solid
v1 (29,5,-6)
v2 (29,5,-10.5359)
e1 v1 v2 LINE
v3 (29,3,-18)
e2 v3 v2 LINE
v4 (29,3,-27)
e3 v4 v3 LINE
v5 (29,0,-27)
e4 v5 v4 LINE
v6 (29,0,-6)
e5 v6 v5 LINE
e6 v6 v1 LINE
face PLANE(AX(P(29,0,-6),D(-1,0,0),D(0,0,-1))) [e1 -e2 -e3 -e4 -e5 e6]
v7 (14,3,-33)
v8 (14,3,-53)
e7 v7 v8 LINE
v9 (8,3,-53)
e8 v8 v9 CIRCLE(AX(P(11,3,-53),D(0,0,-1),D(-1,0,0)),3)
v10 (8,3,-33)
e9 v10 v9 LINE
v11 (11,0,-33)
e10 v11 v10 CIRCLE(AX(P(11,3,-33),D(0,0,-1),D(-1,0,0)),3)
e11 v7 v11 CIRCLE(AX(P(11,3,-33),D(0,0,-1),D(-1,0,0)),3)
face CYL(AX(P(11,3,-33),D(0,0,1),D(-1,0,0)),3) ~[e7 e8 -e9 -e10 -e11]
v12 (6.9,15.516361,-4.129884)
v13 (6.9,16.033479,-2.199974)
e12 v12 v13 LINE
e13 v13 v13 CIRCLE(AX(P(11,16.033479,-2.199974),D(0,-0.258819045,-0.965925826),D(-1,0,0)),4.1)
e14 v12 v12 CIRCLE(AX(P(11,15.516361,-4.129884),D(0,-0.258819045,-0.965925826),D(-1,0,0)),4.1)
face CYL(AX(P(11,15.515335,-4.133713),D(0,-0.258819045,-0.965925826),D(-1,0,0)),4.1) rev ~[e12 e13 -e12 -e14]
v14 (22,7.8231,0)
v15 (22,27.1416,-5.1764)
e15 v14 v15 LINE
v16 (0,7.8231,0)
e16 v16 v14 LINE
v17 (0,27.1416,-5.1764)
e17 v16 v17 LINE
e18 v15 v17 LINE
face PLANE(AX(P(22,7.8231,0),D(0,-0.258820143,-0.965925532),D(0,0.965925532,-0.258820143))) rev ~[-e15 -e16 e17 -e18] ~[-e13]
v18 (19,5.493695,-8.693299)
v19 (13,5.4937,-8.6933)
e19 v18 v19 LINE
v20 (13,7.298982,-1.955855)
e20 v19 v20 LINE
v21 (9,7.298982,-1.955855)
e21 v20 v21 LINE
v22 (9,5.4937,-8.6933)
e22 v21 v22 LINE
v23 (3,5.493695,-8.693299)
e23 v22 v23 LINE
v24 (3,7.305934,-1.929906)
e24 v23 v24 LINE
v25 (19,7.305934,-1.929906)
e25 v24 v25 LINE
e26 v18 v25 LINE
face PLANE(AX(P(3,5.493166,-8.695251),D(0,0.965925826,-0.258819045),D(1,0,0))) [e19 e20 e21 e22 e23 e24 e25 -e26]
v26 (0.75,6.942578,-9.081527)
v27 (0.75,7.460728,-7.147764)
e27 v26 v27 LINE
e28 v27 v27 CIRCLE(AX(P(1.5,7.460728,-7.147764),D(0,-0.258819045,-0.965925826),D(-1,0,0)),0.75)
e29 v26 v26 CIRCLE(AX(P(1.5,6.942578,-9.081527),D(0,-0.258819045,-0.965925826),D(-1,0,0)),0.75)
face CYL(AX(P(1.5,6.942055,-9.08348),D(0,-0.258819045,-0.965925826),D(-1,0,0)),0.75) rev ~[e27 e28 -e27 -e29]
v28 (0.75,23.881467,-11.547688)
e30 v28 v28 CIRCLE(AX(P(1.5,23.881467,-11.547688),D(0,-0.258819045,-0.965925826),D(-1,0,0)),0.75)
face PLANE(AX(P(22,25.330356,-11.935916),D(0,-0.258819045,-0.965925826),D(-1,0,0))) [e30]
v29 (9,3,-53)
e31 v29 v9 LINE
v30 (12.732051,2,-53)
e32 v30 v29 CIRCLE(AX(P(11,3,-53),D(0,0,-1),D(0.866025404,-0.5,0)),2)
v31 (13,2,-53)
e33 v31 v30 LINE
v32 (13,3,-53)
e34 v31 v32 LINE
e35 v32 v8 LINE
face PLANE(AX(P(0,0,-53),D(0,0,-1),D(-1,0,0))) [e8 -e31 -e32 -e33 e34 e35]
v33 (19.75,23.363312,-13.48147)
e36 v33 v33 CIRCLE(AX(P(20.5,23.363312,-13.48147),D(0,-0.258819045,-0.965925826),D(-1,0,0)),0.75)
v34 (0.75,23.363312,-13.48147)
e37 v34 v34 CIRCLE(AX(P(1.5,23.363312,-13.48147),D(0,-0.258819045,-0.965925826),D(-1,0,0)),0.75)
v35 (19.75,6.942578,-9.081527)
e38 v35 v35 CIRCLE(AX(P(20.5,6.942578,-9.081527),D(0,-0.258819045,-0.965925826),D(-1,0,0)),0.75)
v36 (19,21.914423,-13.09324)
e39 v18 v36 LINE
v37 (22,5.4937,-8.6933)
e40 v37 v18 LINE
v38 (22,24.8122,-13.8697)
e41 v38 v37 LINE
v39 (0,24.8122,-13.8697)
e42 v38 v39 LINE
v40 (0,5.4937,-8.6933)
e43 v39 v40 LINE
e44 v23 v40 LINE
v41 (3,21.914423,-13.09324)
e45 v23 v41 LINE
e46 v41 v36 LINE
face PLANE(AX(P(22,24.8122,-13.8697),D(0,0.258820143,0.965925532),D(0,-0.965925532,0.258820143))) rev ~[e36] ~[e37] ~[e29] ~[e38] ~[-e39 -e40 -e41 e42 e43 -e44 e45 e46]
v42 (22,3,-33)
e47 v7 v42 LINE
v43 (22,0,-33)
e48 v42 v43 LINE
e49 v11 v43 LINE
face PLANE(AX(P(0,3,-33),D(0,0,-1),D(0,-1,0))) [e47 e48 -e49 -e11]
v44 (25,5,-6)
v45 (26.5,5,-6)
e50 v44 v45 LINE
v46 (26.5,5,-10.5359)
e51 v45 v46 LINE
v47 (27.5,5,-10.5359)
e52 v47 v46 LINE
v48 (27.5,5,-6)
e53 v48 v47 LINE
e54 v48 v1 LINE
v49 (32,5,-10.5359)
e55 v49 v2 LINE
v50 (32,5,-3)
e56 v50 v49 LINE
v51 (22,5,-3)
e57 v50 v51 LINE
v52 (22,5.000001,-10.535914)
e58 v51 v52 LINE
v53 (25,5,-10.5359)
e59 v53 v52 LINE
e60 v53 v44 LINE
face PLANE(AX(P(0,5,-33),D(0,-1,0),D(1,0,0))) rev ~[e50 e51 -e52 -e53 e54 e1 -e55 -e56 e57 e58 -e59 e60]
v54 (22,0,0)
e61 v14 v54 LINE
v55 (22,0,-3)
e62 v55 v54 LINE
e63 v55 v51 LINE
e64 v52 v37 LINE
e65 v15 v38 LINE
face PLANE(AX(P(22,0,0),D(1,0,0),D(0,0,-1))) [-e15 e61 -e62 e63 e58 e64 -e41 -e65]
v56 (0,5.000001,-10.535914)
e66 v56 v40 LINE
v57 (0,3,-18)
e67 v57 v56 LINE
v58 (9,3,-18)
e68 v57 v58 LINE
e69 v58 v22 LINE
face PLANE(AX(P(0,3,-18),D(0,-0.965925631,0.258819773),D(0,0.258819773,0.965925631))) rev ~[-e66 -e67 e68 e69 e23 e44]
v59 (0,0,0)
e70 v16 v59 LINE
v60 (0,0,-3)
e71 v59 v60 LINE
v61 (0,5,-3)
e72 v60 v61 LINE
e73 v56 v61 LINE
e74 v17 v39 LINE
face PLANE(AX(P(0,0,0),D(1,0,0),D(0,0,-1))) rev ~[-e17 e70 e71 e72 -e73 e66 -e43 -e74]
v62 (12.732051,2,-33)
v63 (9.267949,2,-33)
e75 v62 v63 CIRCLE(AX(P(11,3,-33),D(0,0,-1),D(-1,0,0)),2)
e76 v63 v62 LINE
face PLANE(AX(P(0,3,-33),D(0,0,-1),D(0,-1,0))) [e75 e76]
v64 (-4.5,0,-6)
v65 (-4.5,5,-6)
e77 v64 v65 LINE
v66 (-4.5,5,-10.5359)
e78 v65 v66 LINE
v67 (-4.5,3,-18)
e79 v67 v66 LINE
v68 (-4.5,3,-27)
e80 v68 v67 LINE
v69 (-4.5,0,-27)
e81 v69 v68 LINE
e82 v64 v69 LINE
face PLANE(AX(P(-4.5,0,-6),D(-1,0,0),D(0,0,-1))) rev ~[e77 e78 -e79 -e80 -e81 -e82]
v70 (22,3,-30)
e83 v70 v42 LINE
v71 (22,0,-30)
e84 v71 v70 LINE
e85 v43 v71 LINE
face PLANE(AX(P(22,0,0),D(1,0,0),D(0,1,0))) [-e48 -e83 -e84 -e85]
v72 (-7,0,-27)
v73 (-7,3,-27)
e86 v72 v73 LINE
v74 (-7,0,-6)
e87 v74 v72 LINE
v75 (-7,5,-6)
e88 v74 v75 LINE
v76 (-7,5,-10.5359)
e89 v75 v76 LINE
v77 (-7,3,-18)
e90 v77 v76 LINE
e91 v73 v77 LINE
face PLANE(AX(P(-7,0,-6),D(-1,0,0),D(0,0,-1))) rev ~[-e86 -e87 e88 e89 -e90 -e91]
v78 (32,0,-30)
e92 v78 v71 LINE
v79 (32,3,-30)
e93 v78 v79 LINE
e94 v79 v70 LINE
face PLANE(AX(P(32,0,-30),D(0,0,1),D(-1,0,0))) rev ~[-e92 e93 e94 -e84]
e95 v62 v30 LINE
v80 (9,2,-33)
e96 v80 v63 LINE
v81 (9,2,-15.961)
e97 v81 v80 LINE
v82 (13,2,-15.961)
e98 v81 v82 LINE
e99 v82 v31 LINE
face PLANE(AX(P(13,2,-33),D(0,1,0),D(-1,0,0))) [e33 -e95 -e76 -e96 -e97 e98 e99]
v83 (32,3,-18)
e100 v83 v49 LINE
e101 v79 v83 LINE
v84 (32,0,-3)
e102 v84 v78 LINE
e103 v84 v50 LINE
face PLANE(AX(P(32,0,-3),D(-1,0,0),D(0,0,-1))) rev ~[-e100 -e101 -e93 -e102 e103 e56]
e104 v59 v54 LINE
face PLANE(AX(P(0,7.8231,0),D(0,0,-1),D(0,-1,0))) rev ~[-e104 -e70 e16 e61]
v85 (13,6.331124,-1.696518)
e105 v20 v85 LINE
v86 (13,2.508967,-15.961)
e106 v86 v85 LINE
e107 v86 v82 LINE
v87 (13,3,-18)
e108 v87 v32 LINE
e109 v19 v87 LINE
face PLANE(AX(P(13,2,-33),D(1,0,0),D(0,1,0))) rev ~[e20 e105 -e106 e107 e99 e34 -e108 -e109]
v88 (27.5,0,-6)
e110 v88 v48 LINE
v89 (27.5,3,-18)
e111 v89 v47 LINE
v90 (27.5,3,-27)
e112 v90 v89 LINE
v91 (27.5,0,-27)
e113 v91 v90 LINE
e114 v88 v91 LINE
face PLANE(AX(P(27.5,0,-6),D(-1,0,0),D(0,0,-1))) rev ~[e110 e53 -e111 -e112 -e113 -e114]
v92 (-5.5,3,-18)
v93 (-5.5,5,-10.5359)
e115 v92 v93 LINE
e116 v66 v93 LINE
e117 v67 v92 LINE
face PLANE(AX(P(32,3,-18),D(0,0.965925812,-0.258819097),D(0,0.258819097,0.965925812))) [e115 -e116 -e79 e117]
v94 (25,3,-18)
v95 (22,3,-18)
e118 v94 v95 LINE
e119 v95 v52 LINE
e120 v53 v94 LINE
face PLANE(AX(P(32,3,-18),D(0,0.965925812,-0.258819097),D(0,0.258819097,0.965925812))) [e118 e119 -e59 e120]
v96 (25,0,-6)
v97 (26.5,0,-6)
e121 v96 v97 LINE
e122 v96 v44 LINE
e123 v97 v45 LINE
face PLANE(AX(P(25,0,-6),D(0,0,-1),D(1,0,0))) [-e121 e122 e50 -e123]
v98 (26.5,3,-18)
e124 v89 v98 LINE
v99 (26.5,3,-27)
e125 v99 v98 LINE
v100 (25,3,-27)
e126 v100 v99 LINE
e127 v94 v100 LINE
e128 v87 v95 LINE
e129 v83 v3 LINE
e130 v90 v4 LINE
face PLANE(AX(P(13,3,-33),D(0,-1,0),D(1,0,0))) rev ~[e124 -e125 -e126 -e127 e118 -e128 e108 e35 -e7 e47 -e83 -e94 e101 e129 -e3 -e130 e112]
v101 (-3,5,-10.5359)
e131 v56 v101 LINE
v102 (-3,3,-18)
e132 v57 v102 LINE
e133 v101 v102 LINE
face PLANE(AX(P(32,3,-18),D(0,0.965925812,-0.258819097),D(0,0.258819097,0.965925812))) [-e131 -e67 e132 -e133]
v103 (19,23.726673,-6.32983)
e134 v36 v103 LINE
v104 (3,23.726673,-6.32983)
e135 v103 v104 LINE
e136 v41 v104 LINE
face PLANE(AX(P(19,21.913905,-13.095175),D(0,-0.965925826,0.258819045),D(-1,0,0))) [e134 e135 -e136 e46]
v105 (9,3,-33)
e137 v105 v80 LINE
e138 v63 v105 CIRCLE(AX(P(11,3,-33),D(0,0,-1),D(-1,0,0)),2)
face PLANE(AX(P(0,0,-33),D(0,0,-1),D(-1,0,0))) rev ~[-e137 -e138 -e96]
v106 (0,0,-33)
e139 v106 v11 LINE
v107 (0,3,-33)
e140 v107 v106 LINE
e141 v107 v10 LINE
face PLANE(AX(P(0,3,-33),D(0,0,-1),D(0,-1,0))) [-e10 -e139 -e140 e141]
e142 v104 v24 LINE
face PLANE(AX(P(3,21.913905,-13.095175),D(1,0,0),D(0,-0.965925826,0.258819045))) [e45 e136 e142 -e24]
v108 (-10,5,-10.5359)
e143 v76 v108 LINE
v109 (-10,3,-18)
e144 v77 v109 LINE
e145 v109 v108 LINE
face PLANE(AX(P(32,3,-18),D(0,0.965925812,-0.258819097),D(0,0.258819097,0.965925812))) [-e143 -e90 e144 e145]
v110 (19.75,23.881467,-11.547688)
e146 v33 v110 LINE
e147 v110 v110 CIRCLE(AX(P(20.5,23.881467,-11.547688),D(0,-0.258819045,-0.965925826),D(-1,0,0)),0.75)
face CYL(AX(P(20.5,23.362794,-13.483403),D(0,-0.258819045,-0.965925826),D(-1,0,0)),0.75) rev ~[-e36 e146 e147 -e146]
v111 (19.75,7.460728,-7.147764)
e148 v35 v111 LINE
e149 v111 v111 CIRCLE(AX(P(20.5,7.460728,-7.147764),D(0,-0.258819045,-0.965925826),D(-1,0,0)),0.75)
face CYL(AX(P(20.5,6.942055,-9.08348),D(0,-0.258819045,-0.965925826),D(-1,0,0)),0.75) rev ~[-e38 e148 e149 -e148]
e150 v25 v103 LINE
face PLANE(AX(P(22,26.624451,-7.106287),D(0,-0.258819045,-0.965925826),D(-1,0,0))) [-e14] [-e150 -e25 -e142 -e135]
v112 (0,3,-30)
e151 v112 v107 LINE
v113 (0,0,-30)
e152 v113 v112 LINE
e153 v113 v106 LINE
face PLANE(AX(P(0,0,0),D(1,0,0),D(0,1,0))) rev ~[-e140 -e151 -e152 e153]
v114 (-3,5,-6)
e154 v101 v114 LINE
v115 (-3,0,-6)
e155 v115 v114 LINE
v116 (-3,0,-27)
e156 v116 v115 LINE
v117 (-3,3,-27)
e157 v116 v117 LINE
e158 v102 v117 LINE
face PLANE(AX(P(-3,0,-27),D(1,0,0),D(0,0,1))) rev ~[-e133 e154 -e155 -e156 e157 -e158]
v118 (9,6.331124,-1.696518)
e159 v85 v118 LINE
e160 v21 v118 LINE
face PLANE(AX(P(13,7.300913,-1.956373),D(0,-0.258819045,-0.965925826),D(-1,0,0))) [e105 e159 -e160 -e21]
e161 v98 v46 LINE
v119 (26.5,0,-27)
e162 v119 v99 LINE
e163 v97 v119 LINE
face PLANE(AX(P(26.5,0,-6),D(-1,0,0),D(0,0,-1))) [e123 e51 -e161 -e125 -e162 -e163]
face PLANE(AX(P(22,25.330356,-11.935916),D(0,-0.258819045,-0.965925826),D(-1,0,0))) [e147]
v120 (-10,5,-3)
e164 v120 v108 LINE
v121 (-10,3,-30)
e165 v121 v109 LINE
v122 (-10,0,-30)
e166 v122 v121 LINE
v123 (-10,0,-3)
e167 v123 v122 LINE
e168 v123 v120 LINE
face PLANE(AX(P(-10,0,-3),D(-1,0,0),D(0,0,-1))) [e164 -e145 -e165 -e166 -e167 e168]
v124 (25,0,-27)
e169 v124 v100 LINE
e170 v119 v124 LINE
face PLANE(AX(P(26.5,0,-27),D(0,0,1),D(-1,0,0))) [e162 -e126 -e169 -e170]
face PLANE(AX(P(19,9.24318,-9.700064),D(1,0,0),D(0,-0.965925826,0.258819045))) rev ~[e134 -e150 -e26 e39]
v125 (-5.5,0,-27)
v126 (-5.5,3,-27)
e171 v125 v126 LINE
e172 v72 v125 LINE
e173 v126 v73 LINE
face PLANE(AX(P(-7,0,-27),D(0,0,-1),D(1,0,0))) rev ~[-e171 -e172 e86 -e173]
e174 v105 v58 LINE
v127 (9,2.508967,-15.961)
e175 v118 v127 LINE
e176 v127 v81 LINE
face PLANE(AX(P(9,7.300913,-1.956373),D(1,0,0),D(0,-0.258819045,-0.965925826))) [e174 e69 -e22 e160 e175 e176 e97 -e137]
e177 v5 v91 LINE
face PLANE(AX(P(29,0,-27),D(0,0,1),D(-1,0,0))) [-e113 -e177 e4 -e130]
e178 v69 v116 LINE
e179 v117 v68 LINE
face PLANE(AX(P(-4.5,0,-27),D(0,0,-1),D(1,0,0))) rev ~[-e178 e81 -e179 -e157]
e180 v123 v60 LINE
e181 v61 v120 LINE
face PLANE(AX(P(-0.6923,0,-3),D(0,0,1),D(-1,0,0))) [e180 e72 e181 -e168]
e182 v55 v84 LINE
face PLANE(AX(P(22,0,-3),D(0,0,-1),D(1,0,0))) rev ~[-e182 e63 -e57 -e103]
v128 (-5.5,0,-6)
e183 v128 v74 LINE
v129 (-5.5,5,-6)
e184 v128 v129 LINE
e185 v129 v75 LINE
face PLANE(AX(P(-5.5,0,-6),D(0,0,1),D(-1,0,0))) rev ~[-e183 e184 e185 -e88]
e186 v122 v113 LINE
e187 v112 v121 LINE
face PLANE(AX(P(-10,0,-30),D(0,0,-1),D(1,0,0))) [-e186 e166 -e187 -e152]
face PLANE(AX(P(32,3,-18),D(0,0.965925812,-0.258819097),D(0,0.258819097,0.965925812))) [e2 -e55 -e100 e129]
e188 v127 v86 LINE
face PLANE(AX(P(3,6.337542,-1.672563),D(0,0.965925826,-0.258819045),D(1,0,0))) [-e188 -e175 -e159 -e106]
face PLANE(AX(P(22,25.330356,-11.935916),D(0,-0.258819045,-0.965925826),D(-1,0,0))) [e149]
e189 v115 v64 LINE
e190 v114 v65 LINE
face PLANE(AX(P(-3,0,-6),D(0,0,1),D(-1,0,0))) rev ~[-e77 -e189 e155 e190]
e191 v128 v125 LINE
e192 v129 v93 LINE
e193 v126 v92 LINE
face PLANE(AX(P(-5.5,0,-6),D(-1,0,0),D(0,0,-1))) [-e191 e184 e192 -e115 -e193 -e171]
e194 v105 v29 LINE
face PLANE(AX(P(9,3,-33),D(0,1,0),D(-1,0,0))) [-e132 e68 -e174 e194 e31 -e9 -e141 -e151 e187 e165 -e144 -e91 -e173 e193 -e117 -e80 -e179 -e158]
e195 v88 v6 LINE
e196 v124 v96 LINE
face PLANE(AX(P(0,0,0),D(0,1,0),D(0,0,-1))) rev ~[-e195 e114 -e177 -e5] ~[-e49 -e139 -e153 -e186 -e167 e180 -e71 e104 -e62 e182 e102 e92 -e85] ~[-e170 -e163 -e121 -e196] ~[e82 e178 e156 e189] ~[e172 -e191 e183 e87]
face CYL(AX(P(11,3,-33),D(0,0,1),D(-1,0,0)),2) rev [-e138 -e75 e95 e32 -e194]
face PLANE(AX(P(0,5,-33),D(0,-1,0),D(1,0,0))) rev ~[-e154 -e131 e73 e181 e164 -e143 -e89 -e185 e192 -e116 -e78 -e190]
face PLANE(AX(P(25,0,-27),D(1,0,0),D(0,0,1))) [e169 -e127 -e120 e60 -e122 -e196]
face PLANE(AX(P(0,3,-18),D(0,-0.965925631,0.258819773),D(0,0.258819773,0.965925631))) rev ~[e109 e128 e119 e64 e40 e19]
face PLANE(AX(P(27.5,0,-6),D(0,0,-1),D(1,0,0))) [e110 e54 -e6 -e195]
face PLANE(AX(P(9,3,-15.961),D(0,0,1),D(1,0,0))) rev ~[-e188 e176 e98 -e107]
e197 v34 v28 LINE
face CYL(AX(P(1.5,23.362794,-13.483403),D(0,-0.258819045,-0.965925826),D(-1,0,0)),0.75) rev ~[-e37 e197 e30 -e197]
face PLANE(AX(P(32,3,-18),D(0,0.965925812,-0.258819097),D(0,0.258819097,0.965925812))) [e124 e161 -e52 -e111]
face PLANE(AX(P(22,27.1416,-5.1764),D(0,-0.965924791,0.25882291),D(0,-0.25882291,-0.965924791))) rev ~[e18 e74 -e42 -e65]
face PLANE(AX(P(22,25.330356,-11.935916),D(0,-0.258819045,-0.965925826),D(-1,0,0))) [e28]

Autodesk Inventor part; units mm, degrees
ref_plane "YZ Plane" through (0, 0, 0) normal (1, 0, 0) x (0, 1, 0)
ref_plane "XZ Plane" through (0, 0, 0) normal (0, 1, 0) x (-1, 0, 0)
ref_plane "XY Plane" through (0, 0, 0) normal (0, 0, 1) x (1, 0, 0)
sketch "Boceto9" plane through (0, 0, 0) normal (1, 0, 0) x (0, 1, 0)
  line L0 (0, 0) -> (0, -3)
  line L1 (0, -3) -> (0, -33)
  line L2 (0, -3) -> (3, -3)
  line L3 (3, -3) -> (3, -33)
  line L4 (3, -33) -> (0, -33)
  line L5 (3, -3) -> (3, -18)
  line L6 (3, -18) -> (7.8231, 0)
  line L7 (7.8231, 0) -> (0, 0)
  dimension "d22" = 3
  dimension "d23" = 30
  dimension "d24" = 3
  dimension "d25" = 15
  dimension "d26" = 15
extrude "Extrusión6" add sketch "Boceto9" along normal blind 22
sketch "Boceto10" plane through (0, 0, -33) normal (0, -1, 0) x (1, 0, 0)
  line L0 (22, 15) -> (22, 33) projected
  line L1 (22, 33) -> (22, 30)
  line L2 (22, 30) -> (22.6923, 30)
  line L3 (22, 30) -> (32, 30)
  line L4 (32, 30) -> (32, 3)
  line L5 (32, 3) -> (22, 3)
  line L6 (22, 0) -> (22, 15) projected
  line L7 (0, 33) -> (22, 33) projected
  line L8 (11, 33) -> (11, 0)
  line L9 (0, 0) -> (22, 0) projected
  line L10 (0, 15) -> (0, 33)
  line L11 (0, 33) -> (0, 30)
  line L12 (0, 30) -> (-0.6923, 30)
  line L13 (0, 30) -> (-10, 30)
  line L14 (-10, 30) -> (-10, 3)
  line L15 (-10, 3) -> (0, 3)
  line L16 (0, 0) -> (0, 15)
  line L17 (22, 33) -> (0, 33)
  line L18 (22, 0) -> (0, 0)
  dimension "d29" = 3
  dimension "d31" = 10
  dimension "d32" = 27
extrude "Extrusión7" add sketch "Boceto10" against normal blind 5 contours L0 L2 L3 L4 L5 L6 | L10 L16 L15 L14 L13 L12
sketch "Boceto11" plane through (32, 0, -3) normal (1, 0, 0) x (0, 0, -1)
  line L0 (27, 3) -> (15, 3) projected
  line L1 (15, 3) -> (7.5359, 5) projected
  line L2 (27, 5) -> (7.5359, 5) projected
  line L3 (27, 3) -> (15, 3) projected
  line L4 (15, 3) -> (7.5359, 5) projected
  line L5 (27, 5) -> (7.5359, 5) projected
  line L6 (27, 3) -> (27, 5) projected
  line L7 (27, 0) -> (0, 0) projected
  line L8 (0, 5) -> (27, 5) projected
  line L9 (0, 5) -> (27, 5) projected
  line L10 (27, 5) -> (7.5359, 5) projected
  line L11 (0, 5) -> (7.5359, 5) projected
  line L12 (27, 0) -> (0, 0) projected
  line L13 (27, 0) -> (27, 5) projected
  line L14 (0, 5) -> (27, 5) projected
  line L15 (0, 0) -> (0, 5) projected
  line L16 (27, 0) -> (30, 0) projected
  line L17 (30, 0) -> (30, 3) projected
  line L18 (27, 0) -> (27, 3) projected
  line L19 (30, 3) -> (27, 3) projected
  line L20 (30, 0) -> (30, 3) projected
  line L21 (27, 0) -> (30, 0) projected
  line L22 (30, 0) -> (30, 3) projected
  line L23 (30, 0) -> (30, 3) projected
  line L24 (30, 3) -> (27, 3) projected
  line L25 (30, 3) -> (27, 3) projected
  line L26 (27, 3) -> (15, 3) projected
  line L27 (27, 3) -> (15, 3) projected
  line L28 (30, 3) -> (27, 3) projected
  line L29 (-3, 0) -> (0, 0) projected
  line L30 (0, 0) -> (27, 0) projected
  line L31 (27, 0) -> (30, 0) projected
  line L32 (27, 0) -> (30, 0) projected
  line L33 (27, 0) -> (0, 0) projected
  line L34 (-3, 0) -> (0, 0) projected
  line L35 (15, 3) -> (7.5359, 5) projected
  line L36 (7.5359, 5) -> (-3, 7.8231) projected
  line L37 (7.5359, 5) -> (-3, 7.8231) projected
  line L38 (15, 3) -> (7.5359, 5) projected
  line L39 (27, 0) -> (27, 3) projected
  line L40 (27, 0) -> (27, 5) projected
  line L41 (15, 3) -> (7.5359, 5) projected
  line L42 (7.5359, 5) -> (27, 5) projected
  line L43 (27, 3) -> (27, 5) projected
  line L44 (27, 3) -> (15, 3) projected
  line L45 (27, 3) -> (15, 3) projected
  line L46 (27, 3) -> (27, 5) projected
  line L47 (7.5359, 5) -> (27, 5) projected
  line L48 (15, 3) -> (7.5359, 5) projected
  line L49 (27, 0) -> (27, 5) projected
  line L50 (27, 3) -> (27, 5) projected
  line L51 (27, 0) -> (27, 3) projected
  line L52 (27, 5) -> (0, 5) projected
  line L53 (7.5359, 5) -> (0, 5) projected
  line L54 (7.5359, 5) -> (27, 5) projected
  line L55 (0, 0) -> (27, 0) projected
  line L56 (0, 0) -> (0, 5) projected
  line L57 (27, 5) -> (0, 5) projected
  line L58 (27, 0) -> (27, 5) projected
  line L59 (0, 0) -> (27, 0) projected
  line L60 (27, 5) -> (0, 5) projected
  line L61 (27, 3) -> (27, 0) projected
  line L62 (27, 3) -> (27, 5) projected
  line L63 (30, 3) -> (27, 3) projected
  line L64 (30, 0) -> (30, 3) projected
  line L65 (27, 0) -> (30, 0) projected
  line L66 (27, 0) -> (27, 5) projected
  line L67 (27, 3) -> (27, 0) projected
  line L68 (27, 3) -> (27, 5) projected
  line L69 (27, 0) -> (27, 5) projected
  line L70 (27, 3) -> (27, 0) projected
  line L71 (27, 0) -> (30, 0) projected
  line L72 (30, 0) -> (30, 3) projected
  line L73 (30, 3) -> (27, 3) projected
extrude "Extrusión8" cut sketch "Boceto11" against normal up to surface (42 mm away) contours L0 L1 L2 L6
sketch "Boceto12" plane through (22, 0, 0) normal (1, 0, 0) x (0, 0, -1)
  line L0 (10.5359, 5) -> (0, 7.8231) projected
  line L1 (0, 7.8231) -> (5.1764, 27.1416)
  line L2 (0, 7.8231) -> (20, 7.8231) construction
  line L3 (5.1764, 27.1416) -> (13.8697, 24.8122)
  line L4 (13.8697, 24.8122) -> (8.6933, 5.4937)
  point P0 (0, 0)
  dimension "d37" = 20
  dimension "d38" = 75
  dimension "d40" = 9
extrude "Extrusión9" add sketch "Boceto12" against normal up to surface (22 mm away)
sketch "Boceto13" plane through (22, 24.8122, -13.8697) normal (0, -0.2588, -0.9659) x (-1, 0, 0)
  line L0 (22, -20) -> (0, -20) projected
  line L1 (0, -20) -> (3, -20)
  line L2 (0, 0) -> (0, -20) projected
  line L3 (0, 0) -> (3, 0)
  line L4 (0, 0) -> (22, 0) projected
  line L5 (3, 0) -> (3, -16.1177)
  line L6 (0, 0) -> (0, -3)
  line L7 (0, -3) -> (22, -3)
  line L8 (22, -3) -> (22, 0)
  line L9 (22, 0) -> (19, 0)
  line L10 (19, 0) -> (19, -20)
  line L11 (3, -3) -> (3, -20)
  point P0 (22, -27.5565)
  point P1 (19, -3)
  dimension "d43" = 3
  dimension "d44" = 3
  dimension "d45" = 3
  dimension "d46" = 3
extrude "Extrusión10" cut sketch "Boceto13" against normal blind 7 contours L0 L11 L5 L7 L10
sketch "Boceto14" plane through (0, 0, -33) normal (0, -1, 0) x (1, 0, 0)
  line L0 (32, 30) -> (32, 22.4641) projected
  line L1 (32, 30) -> (32, 27)
  line L2 (32, 30) -> (29, 30)
  line L3 (22, 30) -> (32, 30) projected
  line L4 (29, 30) -> (29, 3)
  line L5 (32, 3) -> (32, 30) projected
  line L6 (29, 3) -> (32, 3)
  line L7 (32, 3) -> (32, 6)
  line L8 (32, 6) -> (25, 6)
  line L9 (25, 6) -> (22, 6)
  line L10 (22, 6) -> (22, 30)
  line L11 (22, 30) -> (22, 27)
  line L12 (22, 27) -> (32, 27)
  line L13 (22, 3) -> (25, 3)
  line L14 (25, 3) -> (25, 30)
  line L15 (29, 27) -> (27.5, 27)
  line L16 (27.5, 27) -> (27.5, 6)
  line L17 (27.5, 6) -> (29, 6)
  line L18 (29, 6) -> (29, 27)
  line L19 (25, 27) -> (26.5, 27)
  line L20 (26.5, 27) -> (26.5, 6)
  line L21 (26.5, 6) -> (25, 6)
  line L22 (25, 6) -> (25, 27)
  line L23 (0, 33) -> (22, 33) projected
  line L24 (11, 33) -> (11, -0.1638)
  line L25 (-10, 30) -> (-10, 22.4641)
  line L26 (-10, 30) -> (-10, 27)
  line L27 (-10, 30) -> (-7, 30)
  line L28 (0, 30) -> (-10, 30)
  line L29 (-7, 30) -> (-7, 3)
  line L30 (-10, 3) -> (-10, 30)
  line L31 (-7, 3) -> (-10, 3)
  line L32 (-10, 3) -> (-10, 6)
  line L33 (-10, 6) -> (-3, 6)
  line L34 (-3, 6) -> (0, 6)
  line L35 (0, 6) -> (0, 30)
  line L36 (0, 30) -> (0, 27)
  line L37 (0, 27) -> (-10, 27)
  line L38 (0, 3) -> (-3, 3)
  line L39 (-3, 3) -> (-3, 30)
  line L40 (-7, 27) -> (-5.5, 27)
  line L41 (-5.5, 27) -> (-5.5, 6)
  line L42 (-5.5, 6) -> (-7, 6)
  line L43 (-7, 6) -> (-7, 27)
  line L44 (-3, 27) -> (-4.5, 27)
  line L45 (-4.5, 27) -> (-4.5, 6)
  line L46 (-4.5, 6) -> (-3, 6)
  line L47 (-3, 6) -> (-3, 27)
  line L48 (22, 33) -> (0, 33)
  point P0 (-7, 6)
  point P1 (25, 6)
  point P2 (29, 6)
  dimension "d52" = 3
  dimension "d53" = 3
  dimension "d54" = 3
  dimension "d55" = 7
  dimension "d56" = 90
  dimension "d57" = 3
  dimension "d58" = 3
  dimension "d59" = 3
  dimension "d60" = 1.5
  dimension "d61" = 1.5
  dimension "d62" = 21
extrude "Extrusión11" cut sketch "Boceto14" against normal blind 7 contours L4 L8 L16 L12 | L12 L20 L8 L14 | L37 L41 L33 L29 | L39 L33 L45 L37
sketch "Boceto15" plane through (22, 26.624, -7.1082) normal (0, -0.2588, -0.9659) x (-1, 0, 0)
  line L0 (19, -20) -> (3, -20) projected
  line L1 (19, -3) -> (19, -20) projected
  line L2 (3, -3) -> (19, -3) projected
  line L3 (3, -20) -> (3, -3) projected
  line L4 (22, -19.0155) -> (0, -19.0155) projected
  line L5 (3, -20) -> (19, -20)
  line L6 (25, -20) -> (-3, -20) projected
  line L7 (3, -20) -> (11, -20)
  line L8 (3, -20) -> (19, -20)
  line L9 (11, -20) -> (11, -3)
  line L10 (11, -20) -> (11, -11.5)
  circle A0 centre (11, -11.5) radius 4.1
  point P0 (22, -27.5565)
  dimension "d65" = 8.5
  dimension "d66" = 8.2
extrude "Extrusión12" cut sketch "Boceto15" against normal blind 2 contours A0 L9 | L9 A0
sketch "Boceto17" plane through (22, 24.8122, -13.8697) normal (0, -0.2588, -0.9659) x (-1, 0, 0)
  line L0 (0, 0) -> (1.5, 0)
  line L1 (0, 0) -> (22, 0) projected
  line L2 (1.5, 0) -> (1.5, -1.5)
  line L3 (22, 0) -> (20.5, 0)
  line L4 (20.5, 0) -> (20.5, -1.5)
  line L5 (0, -20) -> (1.5, -20)
  line L6 (3, -20) -> (0, -20) projected
  line L7 (1.5, -20) -> (1.5, -18.5)
  line L8 (1.5, -18.5) -> (20.5, -18.5)
  circle A0 centre (1.5, -18.5) radius 0.75
  circle A1 centre (20.5, -18.5) radius 0.75
  circle A2 centre (20.5, -1.5) radius 0.75
  circle A3 centre (1.5, -1.5) radius 0.75
  point P0 (22, -27.5565)
  dimension "d69" = 1.5
  dimension "d70" = 1.5
  dimension "d71" = 1.5
  dimension "d72" = 1.5
  dimension "d73" = 1.5
  dimension "d74" = 1.5
  dimension "d75" = 19
  dimension "d76" = 1.5
  dimension "d77" = 1.5
  dimension "d78" = 1.5
  dimension "d79" = 1.5
extrude "Extrusión13" cut sketch "Boceto17" against normal blind 2
sketch "Boceto18" plane through (3, 7.3054, -1.9319) normal (0, 0.9659, -0.2588) x (1, 0, 0)
  line L0 (19, 8.9076) -> (19, 7) projected
  line L1 (19, 8.9076) -> (19, 16.635)
  line L2 (-6, 16.635) -> (22, 16.635) projected
  line L3 (19, 16.635) -> (-3, 16.635)
  line L4 (-3, 16.635) -> (8, 16.635)
  line L5 (8, 16.635) -> (6, 16.635)
  line L6 (6, 16.635) -> (10, 16.635)
  line L7 (10, 16.635) -> (10, 0.0248)
  line L8 (10, 0.0248) -> (6, 0.0248)
  line L9 (6, 0.0248) -> (6, 16.635)
  point P0 (-3, 0.0248)
  dimension "d82" = 2
  dimension "d83" = 4
  dimension "d84" = 4
extrude "Extrusión14" cut sketch "Boceto18" against normal blind 1
sketch "Boceto19" plane through (0, 3, -33) normal (0, 1, 0) x (1, 0, 0)
  line L0 (0, 0) -> (22, 0) projected
  line L1 (9, -15) -> (9, 0)
  line L2 (9, 0) -> (13, 0)
  line L3 (13, 0) -> (13, -15)
  line L4 (13, -15) -> (25, -15) projected
  line L5 (13, -15) -> (13, -17.039)
  line L6 (13, -15) -> (13, -31.0442) projected
  line L7 (9, -31.303) -> (9, -15.2588) projected
  line L8 (9, -17.039) -> (13, -17.039)
  line L9 (9, -17.039) -> (9, -14.1278)
  point P0 (0, -33)
  dimension "d87" = 4
extrude "Extrusión16" cut sketch "Boceto19" against normal blind 1
sketch "Boceto20" plane through (0, 0, -33) normal (0, 0, -1) x (-1, 0, 0)
  line L0 (-13, 2) -> (-9, 2) projected
  line L1 (-11, 2) -> (-9, 2)
  line L2 (-13, 2) -> (-13, 3) projected
  line L3 (-13, 3) -> (-11, 3)
  circle A0 centre (-11, 3) radius 3
  circle A1 centre (-11, 3) radius 2
  line L4 (-13, 3) -> (-22, 3) projected
  line L5 (-14.8156, 3) -> (-7.3833, 3)
  point P0 (0, 0)
  point P1 (-8, 3)
  point P2 (-9, 3)
  point P3 (-12.7321, 2)
  point P4 (-14, 3)
  dimension "d92" = 2
  dimension "d93" = 6
  dimension "d94" = 4
extrude "Extrusión17" add sketch "Boceto20" along normal blind 20 contours L0 A1 L5 A0 L4 L2
properties part number "pieza prueba autodesk"
